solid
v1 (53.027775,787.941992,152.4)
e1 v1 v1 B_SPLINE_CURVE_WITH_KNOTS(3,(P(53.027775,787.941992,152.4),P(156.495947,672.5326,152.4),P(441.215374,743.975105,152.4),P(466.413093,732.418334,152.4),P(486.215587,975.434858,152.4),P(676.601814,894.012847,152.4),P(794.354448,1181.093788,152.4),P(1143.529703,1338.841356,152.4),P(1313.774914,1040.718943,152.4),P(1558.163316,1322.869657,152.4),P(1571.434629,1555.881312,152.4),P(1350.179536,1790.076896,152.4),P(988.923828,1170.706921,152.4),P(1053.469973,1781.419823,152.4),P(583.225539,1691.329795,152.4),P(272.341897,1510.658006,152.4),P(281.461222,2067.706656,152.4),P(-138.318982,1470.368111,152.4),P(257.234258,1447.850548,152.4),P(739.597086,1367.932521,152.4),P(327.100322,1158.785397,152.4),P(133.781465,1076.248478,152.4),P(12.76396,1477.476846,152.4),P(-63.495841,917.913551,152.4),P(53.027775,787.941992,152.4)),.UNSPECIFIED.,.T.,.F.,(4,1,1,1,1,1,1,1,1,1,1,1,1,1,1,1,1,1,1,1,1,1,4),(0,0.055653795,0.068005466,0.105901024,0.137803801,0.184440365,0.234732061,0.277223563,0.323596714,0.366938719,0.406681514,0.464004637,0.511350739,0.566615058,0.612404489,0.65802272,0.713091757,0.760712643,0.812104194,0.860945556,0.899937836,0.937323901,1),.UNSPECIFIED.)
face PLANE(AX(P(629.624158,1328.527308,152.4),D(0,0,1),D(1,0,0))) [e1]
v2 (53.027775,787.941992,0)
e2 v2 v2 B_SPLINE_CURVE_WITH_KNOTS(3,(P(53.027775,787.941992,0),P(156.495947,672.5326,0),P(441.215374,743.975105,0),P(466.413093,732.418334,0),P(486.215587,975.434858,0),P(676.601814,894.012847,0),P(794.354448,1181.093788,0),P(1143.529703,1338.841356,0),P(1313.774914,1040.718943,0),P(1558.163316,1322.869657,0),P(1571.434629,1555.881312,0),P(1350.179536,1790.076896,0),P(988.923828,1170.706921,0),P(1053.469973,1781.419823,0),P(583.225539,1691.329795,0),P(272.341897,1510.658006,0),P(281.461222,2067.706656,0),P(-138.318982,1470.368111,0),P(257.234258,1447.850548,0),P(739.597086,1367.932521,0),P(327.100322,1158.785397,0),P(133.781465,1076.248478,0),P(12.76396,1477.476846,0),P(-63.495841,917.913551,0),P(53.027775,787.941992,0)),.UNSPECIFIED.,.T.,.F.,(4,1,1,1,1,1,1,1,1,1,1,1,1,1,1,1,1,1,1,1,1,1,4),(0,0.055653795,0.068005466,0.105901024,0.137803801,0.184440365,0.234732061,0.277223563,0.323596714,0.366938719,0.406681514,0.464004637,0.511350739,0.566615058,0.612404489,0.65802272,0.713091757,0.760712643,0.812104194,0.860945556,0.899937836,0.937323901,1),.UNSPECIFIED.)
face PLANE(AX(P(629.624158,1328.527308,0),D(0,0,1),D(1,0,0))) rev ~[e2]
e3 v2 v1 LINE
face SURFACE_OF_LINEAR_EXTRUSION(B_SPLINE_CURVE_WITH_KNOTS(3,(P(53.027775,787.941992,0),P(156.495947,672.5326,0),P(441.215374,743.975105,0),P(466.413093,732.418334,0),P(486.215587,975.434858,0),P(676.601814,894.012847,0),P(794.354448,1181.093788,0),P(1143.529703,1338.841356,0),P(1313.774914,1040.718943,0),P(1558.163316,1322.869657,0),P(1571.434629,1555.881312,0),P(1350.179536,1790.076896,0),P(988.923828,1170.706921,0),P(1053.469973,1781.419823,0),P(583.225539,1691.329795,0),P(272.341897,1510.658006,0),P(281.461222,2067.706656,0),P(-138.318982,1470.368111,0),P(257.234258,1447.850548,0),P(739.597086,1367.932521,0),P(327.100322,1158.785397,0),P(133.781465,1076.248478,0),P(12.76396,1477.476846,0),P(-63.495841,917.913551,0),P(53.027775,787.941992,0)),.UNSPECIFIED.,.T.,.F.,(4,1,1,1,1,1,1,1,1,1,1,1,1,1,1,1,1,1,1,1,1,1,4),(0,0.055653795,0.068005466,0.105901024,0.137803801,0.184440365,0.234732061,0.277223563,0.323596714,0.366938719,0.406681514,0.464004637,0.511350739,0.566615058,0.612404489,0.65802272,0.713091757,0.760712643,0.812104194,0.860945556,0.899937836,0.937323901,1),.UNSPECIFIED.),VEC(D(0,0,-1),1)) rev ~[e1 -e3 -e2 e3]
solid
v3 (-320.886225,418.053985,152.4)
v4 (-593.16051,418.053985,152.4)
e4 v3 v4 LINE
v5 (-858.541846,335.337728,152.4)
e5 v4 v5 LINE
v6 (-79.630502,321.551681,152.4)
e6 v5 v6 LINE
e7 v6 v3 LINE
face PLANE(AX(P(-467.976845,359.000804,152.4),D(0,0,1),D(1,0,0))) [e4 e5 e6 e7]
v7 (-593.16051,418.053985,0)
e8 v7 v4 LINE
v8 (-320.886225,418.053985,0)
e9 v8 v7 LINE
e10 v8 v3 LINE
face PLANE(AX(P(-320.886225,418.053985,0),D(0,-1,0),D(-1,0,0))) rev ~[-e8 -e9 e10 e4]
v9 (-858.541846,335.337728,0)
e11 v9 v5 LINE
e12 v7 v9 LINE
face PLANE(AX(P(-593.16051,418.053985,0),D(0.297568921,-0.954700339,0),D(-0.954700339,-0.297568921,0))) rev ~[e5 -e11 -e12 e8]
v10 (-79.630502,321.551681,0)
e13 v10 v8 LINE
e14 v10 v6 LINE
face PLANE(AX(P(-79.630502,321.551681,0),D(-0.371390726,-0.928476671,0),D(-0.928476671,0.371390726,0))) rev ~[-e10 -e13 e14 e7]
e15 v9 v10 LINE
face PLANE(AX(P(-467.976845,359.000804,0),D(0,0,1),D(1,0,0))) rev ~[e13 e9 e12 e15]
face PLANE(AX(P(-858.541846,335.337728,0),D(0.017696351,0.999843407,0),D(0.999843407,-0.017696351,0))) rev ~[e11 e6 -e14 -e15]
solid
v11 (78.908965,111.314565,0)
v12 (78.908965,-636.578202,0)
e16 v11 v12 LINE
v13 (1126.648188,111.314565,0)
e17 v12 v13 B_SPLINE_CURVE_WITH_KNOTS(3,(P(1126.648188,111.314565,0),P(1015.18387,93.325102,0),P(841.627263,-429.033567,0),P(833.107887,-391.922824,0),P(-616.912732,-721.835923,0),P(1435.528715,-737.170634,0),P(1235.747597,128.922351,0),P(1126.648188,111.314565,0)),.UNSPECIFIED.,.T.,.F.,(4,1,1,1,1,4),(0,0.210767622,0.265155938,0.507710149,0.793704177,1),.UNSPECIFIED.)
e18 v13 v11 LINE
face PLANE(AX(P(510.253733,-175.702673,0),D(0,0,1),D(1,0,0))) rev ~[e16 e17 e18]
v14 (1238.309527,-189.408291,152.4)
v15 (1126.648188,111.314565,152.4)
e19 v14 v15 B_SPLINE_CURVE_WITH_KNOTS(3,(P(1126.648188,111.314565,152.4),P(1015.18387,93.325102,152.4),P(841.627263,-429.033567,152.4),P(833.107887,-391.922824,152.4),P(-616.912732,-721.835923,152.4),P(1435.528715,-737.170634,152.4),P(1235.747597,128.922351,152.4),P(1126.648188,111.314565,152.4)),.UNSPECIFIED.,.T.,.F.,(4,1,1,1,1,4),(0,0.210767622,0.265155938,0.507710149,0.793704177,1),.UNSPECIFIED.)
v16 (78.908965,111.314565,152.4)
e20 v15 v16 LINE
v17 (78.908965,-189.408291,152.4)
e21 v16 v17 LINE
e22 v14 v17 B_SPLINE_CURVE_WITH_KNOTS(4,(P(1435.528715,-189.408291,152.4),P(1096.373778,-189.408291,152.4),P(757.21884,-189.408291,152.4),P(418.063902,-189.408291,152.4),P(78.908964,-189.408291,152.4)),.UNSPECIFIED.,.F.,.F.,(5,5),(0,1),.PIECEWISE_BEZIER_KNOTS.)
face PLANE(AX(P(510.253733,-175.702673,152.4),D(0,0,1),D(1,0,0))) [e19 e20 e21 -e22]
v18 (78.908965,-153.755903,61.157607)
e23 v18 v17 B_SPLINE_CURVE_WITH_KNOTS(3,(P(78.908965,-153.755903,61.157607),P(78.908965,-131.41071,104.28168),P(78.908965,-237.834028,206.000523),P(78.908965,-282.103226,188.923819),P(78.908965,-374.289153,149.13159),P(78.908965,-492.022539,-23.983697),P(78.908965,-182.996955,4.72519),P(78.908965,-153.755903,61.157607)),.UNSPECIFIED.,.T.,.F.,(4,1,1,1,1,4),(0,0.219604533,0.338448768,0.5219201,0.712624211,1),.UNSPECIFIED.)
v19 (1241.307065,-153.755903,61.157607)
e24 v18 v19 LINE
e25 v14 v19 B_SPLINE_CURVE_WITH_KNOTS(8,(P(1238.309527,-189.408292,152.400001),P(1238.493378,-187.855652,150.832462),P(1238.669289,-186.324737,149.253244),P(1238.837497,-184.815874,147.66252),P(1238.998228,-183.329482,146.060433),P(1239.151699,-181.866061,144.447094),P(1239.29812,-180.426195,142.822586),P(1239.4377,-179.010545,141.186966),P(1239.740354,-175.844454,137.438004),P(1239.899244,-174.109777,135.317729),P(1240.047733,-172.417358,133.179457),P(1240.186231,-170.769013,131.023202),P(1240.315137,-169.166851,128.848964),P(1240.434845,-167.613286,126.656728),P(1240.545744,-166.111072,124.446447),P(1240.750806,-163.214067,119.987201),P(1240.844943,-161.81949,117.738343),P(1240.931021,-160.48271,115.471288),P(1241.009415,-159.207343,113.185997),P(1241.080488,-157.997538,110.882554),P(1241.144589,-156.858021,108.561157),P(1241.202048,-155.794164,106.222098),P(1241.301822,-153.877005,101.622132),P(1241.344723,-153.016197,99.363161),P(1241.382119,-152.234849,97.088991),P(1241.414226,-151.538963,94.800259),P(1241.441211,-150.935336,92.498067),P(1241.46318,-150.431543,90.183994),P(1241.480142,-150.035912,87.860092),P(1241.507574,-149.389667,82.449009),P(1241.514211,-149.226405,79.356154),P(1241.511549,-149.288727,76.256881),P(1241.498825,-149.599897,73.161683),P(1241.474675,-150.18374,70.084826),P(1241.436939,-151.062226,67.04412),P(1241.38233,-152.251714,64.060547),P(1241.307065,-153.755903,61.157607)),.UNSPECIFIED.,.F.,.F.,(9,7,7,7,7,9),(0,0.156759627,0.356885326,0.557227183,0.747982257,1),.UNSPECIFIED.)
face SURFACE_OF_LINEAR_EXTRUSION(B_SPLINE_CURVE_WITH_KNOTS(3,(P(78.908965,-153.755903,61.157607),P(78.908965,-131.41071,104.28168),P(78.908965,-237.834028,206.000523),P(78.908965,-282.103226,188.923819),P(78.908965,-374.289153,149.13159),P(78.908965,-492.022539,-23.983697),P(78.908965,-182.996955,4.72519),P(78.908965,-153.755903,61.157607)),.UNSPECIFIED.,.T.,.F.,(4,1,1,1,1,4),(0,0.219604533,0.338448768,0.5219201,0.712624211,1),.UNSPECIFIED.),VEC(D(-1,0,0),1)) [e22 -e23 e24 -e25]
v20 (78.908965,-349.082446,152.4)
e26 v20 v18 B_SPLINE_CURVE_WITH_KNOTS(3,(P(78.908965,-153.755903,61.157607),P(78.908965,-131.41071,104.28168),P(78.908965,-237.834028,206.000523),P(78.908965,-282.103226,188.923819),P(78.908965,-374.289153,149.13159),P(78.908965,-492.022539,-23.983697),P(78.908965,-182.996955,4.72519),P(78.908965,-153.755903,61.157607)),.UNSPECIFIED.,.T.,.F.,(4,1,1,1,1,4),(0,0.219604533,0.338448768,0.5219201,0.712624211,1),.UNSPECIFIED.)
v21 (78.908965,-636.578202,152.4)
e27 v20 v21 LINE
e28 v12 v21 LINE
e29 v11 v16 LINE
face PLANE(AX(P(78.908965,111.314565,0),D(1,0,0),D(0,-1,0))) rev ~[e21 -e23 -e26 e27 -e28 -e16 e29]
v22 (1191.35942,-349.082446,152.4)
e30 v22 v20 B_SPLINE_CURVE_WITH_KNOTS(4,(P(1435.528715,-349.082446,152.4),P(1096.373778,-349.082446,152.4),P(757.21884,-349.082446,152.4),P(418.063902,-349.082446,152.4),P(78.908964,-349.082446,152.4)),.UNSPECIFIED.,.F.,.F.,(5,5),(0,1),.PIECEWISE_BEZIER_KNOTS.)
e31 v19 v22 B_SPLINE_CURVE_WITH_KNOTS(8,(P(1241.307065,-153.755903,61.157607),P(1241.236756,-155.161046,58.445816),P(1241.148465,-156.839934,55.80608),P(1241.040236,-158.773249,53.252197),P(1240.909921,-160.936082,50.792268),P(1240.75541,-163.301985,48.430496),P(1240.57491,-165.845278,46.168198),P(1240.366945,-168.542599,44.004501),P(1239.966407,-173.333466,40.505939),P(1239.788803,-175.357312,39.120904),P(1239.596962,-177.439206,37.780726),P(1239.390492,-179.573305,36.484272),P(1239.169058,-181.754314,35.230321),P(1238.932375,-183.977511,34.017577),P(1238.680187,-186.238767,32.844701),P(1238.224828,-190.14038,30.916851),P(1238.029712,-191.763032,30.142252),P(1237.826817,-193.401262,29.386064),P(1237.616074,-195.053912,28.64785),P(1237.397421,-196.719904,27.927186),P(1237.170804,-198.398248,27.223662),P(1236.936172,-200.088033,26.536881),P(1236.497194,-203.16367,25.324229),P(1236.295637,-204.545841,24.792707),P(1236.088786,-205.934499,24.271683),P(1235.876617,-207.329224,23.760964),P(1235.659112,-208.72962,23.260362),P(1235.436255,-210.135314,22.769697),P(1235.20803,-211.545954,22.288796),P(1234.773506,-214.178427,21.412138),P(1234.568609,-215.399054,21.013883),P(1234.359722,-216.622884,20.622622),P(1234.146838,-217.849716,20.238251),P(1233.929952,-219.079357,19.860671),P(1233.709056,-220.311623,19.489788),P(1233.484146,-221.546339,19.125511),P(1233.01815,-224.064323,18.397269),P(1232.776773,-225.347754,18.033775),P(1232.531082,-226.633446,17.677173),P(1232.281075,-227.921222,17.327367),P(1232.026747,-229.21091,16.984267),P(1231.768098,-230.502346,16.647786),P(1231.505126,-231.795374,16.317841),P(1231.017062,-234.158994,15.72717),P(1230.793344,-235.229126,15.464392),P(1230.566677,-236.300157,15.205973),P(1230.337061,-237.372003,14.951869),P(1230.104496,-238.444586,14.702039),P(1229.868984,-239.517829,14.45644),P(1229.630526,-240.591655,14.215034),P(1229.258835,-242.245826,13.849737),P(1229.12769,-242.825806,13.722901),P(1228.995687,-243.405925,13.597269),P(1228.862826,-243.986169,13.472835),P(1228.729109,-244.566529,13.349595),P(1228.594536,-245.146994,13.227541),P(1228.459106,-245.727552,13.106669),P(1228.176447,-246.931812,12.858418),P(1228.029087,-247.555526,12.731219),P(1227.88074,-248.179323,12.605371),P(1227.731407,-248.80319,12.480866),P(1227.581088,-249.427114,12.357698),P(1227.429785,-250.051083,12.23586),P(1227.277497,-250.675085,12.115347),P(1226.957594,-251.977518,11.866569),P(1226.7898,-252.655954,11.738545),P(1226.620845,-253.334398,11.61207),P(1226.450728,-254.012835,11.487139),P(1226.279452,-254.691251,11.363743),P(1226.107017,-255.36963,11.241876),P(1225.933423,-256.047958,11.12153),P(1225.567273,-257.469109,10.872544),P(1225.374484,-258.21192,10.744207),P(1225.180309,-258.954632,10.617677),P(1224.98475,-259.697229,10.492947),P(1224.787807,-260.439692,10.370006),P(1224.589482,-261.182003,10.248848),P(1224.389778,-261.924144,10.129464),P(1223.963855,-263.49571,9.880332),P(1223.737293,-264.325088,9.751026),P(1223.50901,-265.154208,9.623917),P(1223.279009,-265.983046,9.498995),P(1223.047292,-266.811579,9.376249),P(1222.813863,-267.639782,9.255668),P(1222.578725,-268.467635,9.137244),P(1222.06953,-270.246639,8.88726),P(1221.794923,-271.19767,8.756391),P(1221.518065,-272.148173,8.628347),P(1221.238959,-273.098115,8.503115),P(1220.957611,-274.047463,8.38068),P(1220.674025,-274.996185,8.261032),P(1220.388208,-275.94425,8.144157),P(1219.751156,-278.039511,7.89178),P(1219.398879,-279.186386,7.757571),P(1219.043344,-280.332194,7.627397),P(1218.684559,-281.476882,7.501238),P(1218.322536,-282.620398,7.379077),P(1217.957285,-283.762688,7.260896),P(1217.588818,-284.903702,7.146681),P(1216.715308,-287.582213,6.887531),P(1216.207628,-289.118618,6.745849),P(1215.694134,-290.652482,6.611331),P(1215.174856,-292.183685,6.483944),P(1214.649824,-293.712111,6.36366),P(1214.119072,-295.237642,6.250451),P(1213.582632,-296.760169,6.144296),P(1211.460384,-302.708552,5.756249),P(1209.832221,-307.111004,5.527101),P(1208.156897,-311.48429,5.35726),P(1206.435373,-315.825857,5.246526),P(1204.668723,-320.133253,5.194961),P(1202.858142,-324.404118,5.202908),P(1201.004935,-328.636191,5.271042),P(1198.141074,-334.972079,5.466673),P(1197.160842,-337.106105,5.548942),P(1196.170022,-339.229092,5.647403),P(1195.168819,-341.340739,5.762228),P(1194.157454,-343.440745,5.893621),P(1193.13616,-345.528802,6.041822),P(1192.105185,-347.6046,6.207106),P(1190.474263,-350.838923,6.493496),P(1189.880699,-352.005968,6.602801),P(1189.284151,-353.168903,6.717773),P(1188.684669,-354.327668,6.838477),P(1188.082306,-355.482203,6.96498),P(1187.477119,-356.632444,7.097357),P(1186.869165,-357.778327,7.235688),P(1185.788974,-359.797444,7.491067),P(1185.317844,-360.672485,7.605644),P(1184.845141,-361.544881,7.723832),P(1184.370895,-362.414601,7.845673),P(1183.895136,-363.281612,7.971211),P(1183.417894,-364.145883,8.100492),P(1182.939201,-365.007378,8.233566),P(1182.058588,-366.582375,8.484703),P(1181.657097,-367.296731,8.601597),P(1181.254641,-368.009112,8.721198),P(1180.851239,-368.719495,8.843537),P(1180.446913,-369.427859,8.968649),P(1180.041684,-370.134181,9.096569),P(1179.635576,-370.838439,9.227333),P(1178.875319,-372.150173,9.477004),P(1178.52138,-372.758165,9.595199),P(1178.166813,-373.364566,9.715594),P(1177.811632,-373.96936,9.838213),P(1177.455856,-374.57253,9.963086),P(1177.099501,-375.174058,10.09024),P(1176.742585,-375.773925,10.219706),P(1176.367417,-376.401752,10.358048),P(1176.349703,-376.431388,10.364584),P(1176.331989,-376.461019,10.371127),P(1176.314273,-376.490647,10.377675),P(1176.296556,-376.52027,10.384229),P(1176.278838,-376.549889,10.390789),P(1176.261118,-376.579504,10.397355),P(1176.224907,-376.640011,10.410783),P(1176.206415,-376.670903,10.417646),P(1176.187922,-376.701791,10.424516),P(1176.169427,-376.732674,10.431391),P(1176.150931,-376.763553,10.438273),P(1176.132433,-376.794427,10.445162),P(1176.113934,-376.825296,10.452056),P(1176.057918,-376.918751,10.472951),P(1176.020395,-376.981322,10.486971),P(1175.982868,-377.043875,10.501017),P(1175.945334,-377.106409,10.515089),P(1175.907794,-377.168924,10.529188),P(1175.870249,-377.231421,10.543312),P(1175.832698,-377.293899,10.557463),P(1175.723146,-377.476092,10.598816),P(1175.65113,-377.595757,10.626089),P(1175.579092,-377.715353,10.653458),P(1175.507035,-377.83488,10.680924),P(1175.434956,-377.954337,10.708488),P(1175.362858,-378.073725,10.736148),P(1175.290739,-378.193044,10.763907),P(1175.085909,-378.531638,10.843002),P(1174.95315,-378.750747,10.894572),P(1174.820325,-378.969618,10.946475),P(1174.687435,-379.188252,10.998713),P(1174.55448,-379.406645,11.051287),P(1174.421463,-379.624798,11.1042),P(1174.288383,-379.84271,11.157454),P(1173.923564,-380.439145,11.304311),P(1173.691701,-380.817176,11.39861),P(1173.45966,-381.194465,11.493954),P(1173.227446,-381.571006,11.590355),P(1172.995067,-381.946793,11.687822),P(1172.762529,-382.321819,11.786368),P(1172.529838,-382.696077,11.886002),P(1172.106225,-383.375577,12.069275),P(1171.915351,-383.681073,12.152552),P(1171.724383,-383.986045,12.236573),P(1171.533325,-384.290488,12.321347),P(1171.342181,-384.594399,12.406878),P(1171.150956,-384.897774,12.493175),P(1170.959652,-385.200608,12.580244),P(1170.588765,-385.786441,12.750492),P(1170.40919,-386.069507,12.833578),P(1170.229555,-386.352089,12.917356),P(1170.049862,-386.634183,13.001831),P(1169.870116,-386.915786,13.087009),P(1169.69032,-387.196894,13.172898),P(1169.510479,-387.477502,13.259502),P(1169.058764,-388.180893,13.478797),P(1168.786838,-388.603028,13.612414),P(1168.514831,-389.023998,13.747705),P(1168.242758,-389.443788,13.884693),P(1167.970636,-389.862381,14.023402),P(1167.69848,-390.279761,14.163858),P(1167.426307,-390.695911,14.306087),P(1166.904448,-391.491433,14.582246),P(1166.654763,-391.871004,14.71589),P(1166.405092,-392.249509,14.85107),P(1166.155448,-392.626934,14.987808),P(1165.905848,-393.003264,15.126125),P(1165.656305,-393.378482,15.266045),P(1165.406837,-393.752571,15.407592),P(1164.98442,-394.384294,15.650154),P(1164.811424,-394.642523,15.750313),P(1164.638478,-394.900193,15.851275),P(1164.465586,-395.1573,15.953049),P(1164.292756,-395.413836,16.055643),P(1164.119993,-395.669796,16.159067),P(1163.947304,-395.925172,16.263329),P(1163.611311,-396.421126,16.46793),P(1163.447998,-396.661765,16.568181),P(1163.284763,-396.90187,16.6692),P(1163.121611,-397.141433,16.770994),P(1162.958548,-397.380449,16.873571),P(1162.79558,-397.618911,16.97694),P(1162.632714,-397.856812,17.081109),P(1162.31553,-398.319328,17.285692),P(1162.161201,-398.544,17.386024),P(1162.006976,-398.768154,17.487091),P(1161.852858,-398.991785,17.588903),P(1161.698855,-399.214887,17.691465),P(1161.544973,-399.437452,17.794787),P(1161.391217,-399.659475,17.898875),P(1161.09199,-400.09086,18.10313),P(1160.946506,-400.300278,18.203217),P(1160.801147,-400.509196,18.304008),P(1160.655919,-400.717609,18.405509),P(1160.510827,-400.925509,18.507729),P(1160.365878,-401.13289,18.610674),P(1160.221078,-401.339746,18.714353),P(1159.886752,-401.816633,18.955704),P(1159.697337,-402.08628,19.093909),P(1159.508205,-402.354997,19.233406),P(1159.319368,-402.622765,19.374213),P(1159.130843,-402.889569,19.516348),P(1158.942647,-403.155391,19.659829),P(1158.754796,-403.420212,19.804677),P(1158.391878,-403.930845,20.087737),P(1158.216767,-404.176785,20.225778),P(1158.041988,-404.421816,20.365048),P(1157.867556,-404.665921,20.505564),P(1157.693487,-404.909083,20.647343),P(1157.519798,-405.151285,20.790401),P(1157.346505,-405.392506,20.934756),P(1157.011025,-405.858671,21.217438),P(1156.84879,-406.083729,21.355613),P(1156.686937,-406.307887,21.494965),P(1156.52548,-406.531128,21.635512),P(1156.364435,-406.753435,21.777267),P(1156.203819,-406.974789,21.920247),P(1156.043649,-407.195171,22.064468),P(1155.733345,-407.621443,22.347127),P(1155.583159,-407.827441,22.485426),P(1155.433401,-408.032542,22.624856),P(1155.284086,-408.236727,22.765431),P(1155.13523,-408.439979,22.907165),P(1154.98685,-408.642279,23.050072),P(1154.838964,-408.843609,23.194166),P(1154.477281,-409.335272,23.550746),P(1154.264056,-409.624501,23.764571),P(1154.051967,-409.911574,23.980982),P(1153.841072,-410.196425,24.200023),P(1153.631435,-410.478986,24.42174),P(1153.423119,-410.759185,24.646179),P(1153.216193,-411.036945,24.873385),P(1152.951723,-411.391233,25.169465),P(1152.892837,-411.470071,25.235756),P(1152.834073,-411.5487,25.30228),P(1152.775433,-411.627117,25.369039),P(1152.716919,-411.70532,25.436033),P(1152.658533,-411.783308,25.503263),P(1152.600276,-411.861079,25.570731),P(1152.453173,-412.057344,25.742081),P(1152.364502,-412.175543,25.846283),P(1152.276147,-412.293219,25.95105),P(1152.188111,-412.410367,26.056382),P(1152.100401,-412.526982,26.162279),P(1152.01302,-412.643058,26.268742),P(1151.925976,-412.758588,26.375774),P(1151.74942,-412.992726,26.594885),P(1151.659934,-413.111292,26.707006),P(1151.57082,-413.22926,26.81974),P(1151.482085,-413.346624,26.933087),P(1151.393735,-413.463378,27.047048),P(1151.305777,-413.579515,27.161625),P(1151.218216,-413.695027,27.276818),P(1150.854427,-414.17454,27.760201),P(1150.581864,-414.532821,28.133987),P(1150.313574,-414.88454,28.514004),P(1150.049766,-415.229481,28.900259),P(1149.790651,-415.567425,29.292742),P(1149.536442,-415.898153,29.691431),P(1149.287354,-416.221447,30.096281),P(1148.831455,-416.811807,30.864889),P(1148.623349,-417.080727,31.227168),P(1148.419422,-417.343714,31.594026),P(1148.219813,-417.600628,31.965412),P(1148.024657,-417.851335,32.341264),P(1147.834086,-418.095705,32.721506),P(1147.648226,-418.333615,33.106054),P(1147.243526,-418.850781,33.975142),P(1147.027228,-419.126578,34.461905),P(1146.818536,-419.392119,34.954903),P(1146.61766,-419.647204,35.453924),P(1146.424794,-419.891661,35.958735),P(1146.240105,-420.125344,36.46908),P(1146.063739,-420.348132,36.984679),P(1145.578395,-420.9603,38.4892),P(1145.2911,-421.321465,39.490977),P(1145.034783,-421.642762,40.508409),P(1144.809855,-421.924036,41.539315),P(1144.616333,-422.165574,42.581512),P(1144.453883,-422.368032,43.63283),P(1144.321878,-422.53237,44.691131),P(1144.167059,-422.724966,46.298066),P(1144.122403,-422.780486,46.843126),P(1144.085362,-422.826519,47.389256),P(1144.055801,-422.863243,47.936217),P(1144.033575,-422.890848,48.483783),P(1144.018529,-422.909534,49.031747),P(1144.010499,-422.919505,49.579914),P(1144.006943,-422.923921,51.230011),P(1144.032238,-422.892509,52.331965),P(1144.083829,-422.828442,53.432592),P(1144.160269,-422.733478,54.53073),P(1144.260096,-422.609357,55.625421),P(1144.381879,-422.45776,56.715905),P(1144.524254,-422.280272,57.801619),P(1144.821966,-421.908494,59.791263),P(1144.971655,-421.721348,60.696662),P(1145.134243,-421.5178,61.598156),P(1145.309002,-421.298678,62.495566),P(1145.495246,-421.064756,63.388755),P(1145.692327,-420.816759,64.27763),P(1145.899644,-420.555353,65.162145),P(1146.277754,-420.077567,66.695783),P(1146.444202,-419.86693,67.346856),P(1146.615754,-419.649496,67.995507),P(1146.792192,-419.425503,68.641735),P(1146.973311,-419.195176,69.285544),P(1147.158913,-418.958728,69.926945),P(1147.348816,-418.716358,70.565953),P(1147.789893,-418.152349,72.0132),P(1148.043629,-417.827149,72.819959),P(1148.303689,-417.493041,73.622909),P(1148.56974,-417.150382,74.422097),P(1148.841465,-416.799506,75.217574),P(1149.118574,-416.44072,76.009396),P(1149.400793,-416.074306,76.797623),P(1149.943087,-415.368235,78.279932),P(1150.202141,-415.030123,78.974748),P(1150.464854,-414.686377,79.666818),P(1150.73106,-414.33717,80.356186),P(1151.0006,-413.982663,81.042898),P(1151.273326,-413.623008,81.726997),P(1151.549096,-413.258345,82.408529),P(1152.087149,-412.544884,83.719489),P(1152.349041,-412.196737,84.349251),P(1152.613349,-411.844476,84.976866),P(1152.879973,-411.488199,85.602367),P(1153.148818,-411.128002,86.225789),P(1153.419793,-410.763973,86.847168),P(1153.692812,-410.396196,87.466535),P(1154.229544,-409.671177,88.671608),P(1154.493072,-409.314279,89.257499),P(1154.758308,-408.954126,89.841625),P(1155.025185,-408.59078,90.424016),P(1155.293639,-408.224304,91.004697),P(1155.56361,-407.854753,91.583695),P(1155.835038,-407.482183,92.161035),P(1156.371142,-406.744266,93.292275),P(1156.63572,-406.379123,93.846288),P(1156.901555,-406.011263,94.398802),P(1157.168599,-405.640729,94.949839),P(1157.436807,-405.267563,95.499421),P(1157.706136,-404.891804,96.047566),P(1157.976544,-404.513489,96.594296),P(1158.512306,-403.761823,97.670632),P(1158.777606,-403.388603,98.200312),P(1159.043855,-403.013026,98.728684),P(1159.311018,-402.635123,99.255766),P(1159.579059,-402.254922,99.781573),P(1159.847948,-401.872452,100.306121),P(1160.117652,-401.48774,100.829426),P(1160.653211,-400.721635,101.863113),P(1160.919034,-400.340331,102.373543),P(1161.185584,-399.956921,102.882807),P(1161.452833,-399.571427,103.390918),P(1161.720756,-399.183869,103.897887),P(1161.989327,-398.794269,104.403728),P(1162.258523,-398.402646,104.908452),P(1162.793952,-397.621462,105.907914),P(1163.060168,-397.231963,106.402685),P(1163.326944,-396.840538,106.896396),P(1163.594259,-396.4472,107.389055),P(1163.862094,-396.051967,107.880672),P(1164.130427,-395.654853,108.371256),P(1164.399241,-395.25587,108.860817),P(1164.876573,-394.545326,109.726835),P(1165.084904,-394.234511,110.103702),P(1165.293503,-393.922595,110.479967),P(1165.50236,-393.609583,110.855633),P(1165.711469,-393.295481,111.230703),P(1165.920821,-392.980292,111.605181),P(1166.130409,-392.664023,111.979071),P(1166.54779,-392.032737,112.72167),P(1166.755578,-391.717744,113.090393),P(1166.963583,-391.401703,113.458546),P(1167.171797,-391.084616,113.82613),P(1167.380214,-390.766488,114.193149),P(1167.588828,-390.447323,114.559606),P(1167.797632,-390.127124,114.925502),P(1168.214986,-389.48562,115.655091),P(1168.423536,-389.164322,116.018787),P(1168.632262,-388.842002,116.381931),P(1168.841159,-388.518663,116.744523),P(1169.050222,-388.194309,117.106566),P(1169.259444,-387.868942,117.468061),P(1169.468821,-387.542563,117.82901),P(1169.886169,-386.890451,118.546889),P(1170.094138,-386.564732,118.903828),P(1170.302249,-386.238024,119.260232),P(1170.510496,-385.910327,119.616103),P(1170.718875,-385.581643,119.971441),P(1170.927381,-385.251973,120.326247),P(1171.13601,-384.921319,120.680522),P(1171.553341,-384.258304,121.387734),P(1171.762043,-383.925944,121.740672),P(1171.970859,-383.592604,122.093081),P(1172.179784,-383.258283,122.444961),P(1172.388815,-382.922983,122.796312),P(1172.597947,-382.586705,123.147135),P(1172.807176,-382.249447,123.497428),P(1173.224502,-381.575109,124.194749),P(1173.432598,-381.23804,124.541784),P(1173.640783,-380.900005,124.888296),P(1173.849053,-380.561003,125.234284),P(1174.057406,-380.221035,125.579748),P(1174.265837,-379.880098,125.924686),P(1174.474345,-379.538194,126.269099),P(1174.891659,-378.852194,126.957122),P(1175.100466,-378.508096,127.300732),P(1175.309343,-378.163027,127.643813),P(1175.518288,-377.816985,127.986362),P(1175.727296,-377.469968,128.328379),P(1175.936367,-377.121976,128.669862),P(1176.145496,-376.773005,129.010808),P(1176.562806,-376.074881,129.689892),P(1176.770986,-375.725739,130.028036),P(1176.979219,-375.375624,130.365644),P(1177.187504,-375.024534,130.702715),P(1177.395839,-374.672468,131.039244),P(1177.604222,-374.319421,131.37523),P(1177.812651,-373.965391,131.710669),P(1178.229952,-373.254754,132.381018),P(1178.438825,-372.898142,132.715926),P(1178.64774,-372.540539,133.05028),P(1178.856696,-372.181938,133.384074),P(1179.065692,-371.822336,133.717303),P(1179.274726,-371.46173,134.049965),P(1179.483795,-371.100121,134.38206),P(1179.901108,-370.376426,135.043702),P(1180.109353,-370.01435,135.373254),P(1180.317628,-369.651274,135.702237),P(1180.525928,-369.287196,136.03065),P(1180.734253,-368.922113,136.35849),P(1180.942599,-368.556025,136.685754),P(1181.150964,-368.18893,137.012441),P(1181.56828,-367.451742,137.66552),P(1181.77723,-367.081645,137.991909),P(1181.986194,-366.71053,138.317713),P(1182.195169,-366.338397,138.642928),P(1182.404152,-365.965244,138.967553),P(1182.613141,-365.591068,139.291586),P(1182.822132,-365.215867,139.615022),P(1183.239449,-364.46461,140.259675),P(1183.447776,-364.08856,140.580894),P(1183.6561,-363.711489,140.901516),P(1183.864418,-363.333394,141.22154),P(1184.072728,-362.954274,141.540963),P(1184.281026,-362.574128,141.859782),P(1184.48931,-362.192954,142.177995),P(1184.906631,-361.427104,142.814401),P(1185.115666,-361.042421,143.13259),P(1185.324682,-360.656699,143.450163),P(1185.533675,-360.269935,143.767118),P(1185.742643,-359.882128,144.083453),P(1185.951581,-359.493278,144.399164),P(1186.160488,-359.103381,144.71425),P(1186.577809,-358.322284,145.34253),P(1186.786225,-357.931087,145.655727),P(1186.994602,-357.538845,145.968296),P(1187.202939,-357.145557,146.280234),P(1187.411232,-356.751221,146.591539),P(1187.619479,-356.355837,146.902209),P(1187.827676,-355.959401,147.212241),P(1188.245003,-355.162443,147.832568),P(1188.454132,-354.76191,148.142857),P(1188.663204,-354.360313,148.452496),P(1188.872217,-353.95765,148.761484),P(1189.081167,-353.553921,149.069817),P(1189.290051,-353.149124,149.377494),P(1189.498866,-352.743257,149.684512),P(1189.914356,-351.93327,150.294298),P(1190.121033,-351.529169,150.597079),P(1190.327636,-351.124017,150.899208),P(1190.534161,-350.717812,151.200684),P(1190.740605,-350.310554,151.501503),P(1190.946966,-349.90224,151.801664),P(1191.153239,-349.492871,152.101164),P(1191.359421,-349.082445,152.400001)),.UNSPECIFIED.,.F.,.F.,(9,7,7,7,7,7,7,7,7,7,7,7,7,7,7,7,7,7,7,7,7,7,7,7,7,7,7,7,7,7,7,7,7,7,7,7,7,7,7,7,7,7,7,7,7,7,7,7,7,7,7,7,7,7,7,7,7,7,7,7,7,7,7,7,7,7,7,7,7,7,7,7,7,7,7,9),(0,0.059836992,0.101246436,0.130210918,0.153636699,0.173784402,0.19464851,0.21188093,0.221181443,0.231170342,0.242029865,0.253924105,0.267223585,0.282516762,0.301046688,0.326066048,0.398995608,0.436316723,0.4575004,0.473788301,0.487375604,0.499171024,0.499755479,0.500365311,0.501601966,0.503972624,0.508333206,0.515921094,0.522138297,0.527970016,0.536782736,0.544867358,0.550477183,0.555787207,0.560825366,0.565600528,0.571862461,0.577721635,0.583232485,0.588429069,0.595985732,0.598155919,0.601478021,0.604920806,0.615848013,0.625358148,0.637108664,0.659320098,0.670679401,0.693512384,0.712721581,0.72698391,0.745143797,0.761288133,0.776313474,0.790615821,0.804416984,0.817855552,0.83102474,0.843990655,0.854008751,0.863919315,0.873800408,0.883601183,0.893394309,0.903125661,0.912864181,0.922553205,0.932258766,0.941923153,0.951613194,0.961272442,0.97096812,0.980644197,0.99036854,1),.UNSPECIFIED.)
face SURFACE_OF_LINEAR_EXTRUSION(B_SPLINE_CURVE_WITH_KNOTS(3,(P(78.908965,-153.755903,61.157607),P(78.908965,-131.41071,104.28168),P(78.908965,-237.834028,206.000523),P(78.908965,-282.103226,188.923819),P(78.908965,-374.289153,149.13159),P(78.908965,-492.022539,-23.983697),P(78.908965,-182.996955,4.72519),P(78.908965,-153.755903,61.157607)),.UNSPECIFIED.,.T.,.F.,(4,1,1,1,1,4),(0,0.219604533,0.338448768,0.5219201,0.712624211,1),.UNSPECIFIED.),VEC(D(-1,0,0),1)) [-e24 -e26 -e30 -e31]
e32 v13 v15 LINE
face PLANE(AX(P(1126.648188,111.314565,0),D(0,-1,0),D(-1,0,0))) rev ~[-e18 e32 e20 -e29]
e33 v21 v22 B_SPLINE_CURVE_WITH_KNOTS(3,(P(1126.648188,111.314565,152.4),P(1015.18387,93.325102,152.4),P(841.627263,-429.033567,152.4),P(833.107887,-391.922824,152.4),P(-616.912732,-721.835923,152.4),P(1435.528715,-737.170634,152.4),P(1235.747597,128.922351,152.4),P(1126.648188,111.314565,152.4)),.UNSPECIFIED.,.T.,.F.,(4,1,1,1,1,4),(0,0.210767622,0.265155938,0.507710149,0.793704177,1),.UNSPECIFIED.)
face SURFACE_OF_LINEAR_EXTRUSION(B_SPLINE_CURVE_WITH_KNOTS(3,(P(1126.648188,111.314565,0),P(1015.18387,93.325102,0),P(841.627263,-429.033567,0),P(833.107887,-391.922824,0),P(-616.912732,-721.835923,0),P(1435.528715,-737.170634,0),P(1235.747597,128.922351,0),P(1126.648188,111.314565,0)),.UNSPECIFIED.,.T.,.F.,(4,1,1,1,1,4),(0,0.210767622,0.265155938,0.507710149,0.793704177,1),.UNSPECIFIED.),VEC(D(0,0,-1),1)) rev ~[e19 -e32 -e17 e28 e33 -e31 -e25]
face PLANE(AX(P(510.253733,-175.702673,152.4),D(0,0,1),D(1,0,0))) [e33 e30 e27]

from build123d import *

# Parameters (mm, degrees)
F1_DEPTH = 152.4
F3_DEPTH = 1477.255237024


with BuildPart() as f1:
    # F0 (on Top) → F1 (new body)
    with BuildSketch(Plane.XY):
        with BuildLine():
            Line((1126.6481876373, 111.3145649433), (78.9089649916, 111.3145649433))
            Line((78.9089649916, 111.3145649433), (78.9089649916, 42.3843674362))
            Line((78.9089649916, 42.3843674362), (78.9089649916, -636.5782022476))
            add(Edge.make_bspline(
                [(1126.6481876373, 111.3145649433), (1015.1838704982, 93.3251015399), (841.6272634674, -429.0335665761), (833.1078874709, -391.9228242128), (94.4807014232, -559.9775269508), (78.9089649916, -636.5782022476)],
                knots=[0, 0, 0, 0, 0.2107676221, 0.2651559377, 0.5077101491, 0.5077101491, 0.5077101491, 0.5077101491], degree=3))
        make_face()
        with BuildLine():
            add(Edge.make_bspline(
                [(78.9089649916, -636.5782022476), (60.5484360522, -726.8975395765), (1435.5287153384, -737.1706336439), (1235.7475969782, 128.9223508433), (1126.6481876373, 111.3145649433)],
                knots=[0.5077101491, 0.5077101491, 0.5077101491, 0.5077101491, 0.7937041767, 1, 1, 1, 1], degree=3))
            add(Edge.make_bspline(
                [(1126.6481876373, 111.3145649433), (1015.1838704982, 93.3251015399), (841.6272634674, -429.0335665761), (833.1078874709, -391.9228242128), (94.4807014232, -559.9775269508), (78.9089649916, -636.5782022476)],
                knots=[0, 0, 0, 0, 0.2107676221, 0.2651559377, 0.5077101491, 0.5077101491, 0.5077101491, 0.5077101491], degree=3))
        make_face()
    extrude(amount=F1_DEPTH)

    # F2 (on face) → F3 (cut, through all)
    with BuildSketch(Plane(origin=(78.9089649916, 0, 0), x_dir=(0, -1, 0), z_dir=(-1, 0, 0))):
        with BuildLine():
            add(Edge.make_bspline(
                [(153.755903244, 61.1576065421), (131.4107097508, 104.2816798005), (237.8340282387, 206.0005233933), (282.1032258656, 188.9238190117), (374.2891532878, 149.1315896177), (492.0225386648, -23.9836967321), (182.9969554129, 4.725189599), (153.755903244, 61.1576065421)],
                knots=[0, 0, 0, 0, 0.2196045329, 0.3384487678, 0.5219201002, 0.7126242114, 1, 1, 1, 1], degree=3))
        make_face()
    extrude(amount=-F3_DEPTH, mode=Mode.SUBTRACT)


with BuildPart() as f1b:
    # F0 (on Top) → F1, piece 2 (new body)
    with BuildSketch(Plane.XY):
        Polygon((-593.1605100632, 418.053984642), (-858.5418462753, 335.3377282619), (-79.6305015683, 321.5516805649), (-320.8862245083, 418.053984642), align=None)
    extrude(amount=F1_DEPTH)


with BuildPart() as f1c:
    # F0 (on Top) → F1, piece 3 (new body)
    with BuildSketch(Plane.XY):
        with BuildLine():
            add(Edge.make_bspline(
                [(53.0277751386, 787.9419922829), (156.495947458, 672.5326004652), (441.2153741885, 743.9751050767), (466.413092922, 732.4183336773), (486.2155869166, 975.434857633), (676.6018141403, 894.0128465886), (794.3544484466, 1181.0937879494), (1143.5297028582, 1338.8413563823), (1313.774913592, 1040.7189432123), (1558.1633156079, 1322.8696571236), (1571.4346294026, 1555.881311685), (1350.1795357625, 1790.0768958594), (988.9238281889, 1170.7069206067), (1053.4699728239, 1781.4198228134), (583.2255388292, 1691.3297947873), (272.3418973725, 1510.6580057301), (281.4612215743, 2067.706656462), (-138.3189818159, 1470.3681111995), (257.2342576925, 1447.8505478669), (739.5970855673, 1367.9325214671), (327.1003223926, 1158.7853971291), (133.78146539, 1076.2484776931), (12.7639598342, 1477.4768458196), (-63.495840736, 917.9135510631), (53.0277751386, 787.9419922829)],
                knots=[0, 0, 0, 0, 0.0556537949, 0.0680054655, 0.1059010239, 0.1378038009, 0.1844403651, 0.2347320612, 0.2772235625, 0.3235967143, 0.366938719, 0.4066815142, 0.4640046369, 0.5113507387, 0.5666150583, 0.6124044891, 0.6580227199, 0.7130917574, 0.7607126427, 0.812104194, 0.8609455558, 0.8999378362, 0.9373239009, 1, 1, 1, 1], degree=3))
        make_face()
    extrude(amount=F1_DEPTH)


solid = Compound([f1.part, f1b.part, f1c.part])
